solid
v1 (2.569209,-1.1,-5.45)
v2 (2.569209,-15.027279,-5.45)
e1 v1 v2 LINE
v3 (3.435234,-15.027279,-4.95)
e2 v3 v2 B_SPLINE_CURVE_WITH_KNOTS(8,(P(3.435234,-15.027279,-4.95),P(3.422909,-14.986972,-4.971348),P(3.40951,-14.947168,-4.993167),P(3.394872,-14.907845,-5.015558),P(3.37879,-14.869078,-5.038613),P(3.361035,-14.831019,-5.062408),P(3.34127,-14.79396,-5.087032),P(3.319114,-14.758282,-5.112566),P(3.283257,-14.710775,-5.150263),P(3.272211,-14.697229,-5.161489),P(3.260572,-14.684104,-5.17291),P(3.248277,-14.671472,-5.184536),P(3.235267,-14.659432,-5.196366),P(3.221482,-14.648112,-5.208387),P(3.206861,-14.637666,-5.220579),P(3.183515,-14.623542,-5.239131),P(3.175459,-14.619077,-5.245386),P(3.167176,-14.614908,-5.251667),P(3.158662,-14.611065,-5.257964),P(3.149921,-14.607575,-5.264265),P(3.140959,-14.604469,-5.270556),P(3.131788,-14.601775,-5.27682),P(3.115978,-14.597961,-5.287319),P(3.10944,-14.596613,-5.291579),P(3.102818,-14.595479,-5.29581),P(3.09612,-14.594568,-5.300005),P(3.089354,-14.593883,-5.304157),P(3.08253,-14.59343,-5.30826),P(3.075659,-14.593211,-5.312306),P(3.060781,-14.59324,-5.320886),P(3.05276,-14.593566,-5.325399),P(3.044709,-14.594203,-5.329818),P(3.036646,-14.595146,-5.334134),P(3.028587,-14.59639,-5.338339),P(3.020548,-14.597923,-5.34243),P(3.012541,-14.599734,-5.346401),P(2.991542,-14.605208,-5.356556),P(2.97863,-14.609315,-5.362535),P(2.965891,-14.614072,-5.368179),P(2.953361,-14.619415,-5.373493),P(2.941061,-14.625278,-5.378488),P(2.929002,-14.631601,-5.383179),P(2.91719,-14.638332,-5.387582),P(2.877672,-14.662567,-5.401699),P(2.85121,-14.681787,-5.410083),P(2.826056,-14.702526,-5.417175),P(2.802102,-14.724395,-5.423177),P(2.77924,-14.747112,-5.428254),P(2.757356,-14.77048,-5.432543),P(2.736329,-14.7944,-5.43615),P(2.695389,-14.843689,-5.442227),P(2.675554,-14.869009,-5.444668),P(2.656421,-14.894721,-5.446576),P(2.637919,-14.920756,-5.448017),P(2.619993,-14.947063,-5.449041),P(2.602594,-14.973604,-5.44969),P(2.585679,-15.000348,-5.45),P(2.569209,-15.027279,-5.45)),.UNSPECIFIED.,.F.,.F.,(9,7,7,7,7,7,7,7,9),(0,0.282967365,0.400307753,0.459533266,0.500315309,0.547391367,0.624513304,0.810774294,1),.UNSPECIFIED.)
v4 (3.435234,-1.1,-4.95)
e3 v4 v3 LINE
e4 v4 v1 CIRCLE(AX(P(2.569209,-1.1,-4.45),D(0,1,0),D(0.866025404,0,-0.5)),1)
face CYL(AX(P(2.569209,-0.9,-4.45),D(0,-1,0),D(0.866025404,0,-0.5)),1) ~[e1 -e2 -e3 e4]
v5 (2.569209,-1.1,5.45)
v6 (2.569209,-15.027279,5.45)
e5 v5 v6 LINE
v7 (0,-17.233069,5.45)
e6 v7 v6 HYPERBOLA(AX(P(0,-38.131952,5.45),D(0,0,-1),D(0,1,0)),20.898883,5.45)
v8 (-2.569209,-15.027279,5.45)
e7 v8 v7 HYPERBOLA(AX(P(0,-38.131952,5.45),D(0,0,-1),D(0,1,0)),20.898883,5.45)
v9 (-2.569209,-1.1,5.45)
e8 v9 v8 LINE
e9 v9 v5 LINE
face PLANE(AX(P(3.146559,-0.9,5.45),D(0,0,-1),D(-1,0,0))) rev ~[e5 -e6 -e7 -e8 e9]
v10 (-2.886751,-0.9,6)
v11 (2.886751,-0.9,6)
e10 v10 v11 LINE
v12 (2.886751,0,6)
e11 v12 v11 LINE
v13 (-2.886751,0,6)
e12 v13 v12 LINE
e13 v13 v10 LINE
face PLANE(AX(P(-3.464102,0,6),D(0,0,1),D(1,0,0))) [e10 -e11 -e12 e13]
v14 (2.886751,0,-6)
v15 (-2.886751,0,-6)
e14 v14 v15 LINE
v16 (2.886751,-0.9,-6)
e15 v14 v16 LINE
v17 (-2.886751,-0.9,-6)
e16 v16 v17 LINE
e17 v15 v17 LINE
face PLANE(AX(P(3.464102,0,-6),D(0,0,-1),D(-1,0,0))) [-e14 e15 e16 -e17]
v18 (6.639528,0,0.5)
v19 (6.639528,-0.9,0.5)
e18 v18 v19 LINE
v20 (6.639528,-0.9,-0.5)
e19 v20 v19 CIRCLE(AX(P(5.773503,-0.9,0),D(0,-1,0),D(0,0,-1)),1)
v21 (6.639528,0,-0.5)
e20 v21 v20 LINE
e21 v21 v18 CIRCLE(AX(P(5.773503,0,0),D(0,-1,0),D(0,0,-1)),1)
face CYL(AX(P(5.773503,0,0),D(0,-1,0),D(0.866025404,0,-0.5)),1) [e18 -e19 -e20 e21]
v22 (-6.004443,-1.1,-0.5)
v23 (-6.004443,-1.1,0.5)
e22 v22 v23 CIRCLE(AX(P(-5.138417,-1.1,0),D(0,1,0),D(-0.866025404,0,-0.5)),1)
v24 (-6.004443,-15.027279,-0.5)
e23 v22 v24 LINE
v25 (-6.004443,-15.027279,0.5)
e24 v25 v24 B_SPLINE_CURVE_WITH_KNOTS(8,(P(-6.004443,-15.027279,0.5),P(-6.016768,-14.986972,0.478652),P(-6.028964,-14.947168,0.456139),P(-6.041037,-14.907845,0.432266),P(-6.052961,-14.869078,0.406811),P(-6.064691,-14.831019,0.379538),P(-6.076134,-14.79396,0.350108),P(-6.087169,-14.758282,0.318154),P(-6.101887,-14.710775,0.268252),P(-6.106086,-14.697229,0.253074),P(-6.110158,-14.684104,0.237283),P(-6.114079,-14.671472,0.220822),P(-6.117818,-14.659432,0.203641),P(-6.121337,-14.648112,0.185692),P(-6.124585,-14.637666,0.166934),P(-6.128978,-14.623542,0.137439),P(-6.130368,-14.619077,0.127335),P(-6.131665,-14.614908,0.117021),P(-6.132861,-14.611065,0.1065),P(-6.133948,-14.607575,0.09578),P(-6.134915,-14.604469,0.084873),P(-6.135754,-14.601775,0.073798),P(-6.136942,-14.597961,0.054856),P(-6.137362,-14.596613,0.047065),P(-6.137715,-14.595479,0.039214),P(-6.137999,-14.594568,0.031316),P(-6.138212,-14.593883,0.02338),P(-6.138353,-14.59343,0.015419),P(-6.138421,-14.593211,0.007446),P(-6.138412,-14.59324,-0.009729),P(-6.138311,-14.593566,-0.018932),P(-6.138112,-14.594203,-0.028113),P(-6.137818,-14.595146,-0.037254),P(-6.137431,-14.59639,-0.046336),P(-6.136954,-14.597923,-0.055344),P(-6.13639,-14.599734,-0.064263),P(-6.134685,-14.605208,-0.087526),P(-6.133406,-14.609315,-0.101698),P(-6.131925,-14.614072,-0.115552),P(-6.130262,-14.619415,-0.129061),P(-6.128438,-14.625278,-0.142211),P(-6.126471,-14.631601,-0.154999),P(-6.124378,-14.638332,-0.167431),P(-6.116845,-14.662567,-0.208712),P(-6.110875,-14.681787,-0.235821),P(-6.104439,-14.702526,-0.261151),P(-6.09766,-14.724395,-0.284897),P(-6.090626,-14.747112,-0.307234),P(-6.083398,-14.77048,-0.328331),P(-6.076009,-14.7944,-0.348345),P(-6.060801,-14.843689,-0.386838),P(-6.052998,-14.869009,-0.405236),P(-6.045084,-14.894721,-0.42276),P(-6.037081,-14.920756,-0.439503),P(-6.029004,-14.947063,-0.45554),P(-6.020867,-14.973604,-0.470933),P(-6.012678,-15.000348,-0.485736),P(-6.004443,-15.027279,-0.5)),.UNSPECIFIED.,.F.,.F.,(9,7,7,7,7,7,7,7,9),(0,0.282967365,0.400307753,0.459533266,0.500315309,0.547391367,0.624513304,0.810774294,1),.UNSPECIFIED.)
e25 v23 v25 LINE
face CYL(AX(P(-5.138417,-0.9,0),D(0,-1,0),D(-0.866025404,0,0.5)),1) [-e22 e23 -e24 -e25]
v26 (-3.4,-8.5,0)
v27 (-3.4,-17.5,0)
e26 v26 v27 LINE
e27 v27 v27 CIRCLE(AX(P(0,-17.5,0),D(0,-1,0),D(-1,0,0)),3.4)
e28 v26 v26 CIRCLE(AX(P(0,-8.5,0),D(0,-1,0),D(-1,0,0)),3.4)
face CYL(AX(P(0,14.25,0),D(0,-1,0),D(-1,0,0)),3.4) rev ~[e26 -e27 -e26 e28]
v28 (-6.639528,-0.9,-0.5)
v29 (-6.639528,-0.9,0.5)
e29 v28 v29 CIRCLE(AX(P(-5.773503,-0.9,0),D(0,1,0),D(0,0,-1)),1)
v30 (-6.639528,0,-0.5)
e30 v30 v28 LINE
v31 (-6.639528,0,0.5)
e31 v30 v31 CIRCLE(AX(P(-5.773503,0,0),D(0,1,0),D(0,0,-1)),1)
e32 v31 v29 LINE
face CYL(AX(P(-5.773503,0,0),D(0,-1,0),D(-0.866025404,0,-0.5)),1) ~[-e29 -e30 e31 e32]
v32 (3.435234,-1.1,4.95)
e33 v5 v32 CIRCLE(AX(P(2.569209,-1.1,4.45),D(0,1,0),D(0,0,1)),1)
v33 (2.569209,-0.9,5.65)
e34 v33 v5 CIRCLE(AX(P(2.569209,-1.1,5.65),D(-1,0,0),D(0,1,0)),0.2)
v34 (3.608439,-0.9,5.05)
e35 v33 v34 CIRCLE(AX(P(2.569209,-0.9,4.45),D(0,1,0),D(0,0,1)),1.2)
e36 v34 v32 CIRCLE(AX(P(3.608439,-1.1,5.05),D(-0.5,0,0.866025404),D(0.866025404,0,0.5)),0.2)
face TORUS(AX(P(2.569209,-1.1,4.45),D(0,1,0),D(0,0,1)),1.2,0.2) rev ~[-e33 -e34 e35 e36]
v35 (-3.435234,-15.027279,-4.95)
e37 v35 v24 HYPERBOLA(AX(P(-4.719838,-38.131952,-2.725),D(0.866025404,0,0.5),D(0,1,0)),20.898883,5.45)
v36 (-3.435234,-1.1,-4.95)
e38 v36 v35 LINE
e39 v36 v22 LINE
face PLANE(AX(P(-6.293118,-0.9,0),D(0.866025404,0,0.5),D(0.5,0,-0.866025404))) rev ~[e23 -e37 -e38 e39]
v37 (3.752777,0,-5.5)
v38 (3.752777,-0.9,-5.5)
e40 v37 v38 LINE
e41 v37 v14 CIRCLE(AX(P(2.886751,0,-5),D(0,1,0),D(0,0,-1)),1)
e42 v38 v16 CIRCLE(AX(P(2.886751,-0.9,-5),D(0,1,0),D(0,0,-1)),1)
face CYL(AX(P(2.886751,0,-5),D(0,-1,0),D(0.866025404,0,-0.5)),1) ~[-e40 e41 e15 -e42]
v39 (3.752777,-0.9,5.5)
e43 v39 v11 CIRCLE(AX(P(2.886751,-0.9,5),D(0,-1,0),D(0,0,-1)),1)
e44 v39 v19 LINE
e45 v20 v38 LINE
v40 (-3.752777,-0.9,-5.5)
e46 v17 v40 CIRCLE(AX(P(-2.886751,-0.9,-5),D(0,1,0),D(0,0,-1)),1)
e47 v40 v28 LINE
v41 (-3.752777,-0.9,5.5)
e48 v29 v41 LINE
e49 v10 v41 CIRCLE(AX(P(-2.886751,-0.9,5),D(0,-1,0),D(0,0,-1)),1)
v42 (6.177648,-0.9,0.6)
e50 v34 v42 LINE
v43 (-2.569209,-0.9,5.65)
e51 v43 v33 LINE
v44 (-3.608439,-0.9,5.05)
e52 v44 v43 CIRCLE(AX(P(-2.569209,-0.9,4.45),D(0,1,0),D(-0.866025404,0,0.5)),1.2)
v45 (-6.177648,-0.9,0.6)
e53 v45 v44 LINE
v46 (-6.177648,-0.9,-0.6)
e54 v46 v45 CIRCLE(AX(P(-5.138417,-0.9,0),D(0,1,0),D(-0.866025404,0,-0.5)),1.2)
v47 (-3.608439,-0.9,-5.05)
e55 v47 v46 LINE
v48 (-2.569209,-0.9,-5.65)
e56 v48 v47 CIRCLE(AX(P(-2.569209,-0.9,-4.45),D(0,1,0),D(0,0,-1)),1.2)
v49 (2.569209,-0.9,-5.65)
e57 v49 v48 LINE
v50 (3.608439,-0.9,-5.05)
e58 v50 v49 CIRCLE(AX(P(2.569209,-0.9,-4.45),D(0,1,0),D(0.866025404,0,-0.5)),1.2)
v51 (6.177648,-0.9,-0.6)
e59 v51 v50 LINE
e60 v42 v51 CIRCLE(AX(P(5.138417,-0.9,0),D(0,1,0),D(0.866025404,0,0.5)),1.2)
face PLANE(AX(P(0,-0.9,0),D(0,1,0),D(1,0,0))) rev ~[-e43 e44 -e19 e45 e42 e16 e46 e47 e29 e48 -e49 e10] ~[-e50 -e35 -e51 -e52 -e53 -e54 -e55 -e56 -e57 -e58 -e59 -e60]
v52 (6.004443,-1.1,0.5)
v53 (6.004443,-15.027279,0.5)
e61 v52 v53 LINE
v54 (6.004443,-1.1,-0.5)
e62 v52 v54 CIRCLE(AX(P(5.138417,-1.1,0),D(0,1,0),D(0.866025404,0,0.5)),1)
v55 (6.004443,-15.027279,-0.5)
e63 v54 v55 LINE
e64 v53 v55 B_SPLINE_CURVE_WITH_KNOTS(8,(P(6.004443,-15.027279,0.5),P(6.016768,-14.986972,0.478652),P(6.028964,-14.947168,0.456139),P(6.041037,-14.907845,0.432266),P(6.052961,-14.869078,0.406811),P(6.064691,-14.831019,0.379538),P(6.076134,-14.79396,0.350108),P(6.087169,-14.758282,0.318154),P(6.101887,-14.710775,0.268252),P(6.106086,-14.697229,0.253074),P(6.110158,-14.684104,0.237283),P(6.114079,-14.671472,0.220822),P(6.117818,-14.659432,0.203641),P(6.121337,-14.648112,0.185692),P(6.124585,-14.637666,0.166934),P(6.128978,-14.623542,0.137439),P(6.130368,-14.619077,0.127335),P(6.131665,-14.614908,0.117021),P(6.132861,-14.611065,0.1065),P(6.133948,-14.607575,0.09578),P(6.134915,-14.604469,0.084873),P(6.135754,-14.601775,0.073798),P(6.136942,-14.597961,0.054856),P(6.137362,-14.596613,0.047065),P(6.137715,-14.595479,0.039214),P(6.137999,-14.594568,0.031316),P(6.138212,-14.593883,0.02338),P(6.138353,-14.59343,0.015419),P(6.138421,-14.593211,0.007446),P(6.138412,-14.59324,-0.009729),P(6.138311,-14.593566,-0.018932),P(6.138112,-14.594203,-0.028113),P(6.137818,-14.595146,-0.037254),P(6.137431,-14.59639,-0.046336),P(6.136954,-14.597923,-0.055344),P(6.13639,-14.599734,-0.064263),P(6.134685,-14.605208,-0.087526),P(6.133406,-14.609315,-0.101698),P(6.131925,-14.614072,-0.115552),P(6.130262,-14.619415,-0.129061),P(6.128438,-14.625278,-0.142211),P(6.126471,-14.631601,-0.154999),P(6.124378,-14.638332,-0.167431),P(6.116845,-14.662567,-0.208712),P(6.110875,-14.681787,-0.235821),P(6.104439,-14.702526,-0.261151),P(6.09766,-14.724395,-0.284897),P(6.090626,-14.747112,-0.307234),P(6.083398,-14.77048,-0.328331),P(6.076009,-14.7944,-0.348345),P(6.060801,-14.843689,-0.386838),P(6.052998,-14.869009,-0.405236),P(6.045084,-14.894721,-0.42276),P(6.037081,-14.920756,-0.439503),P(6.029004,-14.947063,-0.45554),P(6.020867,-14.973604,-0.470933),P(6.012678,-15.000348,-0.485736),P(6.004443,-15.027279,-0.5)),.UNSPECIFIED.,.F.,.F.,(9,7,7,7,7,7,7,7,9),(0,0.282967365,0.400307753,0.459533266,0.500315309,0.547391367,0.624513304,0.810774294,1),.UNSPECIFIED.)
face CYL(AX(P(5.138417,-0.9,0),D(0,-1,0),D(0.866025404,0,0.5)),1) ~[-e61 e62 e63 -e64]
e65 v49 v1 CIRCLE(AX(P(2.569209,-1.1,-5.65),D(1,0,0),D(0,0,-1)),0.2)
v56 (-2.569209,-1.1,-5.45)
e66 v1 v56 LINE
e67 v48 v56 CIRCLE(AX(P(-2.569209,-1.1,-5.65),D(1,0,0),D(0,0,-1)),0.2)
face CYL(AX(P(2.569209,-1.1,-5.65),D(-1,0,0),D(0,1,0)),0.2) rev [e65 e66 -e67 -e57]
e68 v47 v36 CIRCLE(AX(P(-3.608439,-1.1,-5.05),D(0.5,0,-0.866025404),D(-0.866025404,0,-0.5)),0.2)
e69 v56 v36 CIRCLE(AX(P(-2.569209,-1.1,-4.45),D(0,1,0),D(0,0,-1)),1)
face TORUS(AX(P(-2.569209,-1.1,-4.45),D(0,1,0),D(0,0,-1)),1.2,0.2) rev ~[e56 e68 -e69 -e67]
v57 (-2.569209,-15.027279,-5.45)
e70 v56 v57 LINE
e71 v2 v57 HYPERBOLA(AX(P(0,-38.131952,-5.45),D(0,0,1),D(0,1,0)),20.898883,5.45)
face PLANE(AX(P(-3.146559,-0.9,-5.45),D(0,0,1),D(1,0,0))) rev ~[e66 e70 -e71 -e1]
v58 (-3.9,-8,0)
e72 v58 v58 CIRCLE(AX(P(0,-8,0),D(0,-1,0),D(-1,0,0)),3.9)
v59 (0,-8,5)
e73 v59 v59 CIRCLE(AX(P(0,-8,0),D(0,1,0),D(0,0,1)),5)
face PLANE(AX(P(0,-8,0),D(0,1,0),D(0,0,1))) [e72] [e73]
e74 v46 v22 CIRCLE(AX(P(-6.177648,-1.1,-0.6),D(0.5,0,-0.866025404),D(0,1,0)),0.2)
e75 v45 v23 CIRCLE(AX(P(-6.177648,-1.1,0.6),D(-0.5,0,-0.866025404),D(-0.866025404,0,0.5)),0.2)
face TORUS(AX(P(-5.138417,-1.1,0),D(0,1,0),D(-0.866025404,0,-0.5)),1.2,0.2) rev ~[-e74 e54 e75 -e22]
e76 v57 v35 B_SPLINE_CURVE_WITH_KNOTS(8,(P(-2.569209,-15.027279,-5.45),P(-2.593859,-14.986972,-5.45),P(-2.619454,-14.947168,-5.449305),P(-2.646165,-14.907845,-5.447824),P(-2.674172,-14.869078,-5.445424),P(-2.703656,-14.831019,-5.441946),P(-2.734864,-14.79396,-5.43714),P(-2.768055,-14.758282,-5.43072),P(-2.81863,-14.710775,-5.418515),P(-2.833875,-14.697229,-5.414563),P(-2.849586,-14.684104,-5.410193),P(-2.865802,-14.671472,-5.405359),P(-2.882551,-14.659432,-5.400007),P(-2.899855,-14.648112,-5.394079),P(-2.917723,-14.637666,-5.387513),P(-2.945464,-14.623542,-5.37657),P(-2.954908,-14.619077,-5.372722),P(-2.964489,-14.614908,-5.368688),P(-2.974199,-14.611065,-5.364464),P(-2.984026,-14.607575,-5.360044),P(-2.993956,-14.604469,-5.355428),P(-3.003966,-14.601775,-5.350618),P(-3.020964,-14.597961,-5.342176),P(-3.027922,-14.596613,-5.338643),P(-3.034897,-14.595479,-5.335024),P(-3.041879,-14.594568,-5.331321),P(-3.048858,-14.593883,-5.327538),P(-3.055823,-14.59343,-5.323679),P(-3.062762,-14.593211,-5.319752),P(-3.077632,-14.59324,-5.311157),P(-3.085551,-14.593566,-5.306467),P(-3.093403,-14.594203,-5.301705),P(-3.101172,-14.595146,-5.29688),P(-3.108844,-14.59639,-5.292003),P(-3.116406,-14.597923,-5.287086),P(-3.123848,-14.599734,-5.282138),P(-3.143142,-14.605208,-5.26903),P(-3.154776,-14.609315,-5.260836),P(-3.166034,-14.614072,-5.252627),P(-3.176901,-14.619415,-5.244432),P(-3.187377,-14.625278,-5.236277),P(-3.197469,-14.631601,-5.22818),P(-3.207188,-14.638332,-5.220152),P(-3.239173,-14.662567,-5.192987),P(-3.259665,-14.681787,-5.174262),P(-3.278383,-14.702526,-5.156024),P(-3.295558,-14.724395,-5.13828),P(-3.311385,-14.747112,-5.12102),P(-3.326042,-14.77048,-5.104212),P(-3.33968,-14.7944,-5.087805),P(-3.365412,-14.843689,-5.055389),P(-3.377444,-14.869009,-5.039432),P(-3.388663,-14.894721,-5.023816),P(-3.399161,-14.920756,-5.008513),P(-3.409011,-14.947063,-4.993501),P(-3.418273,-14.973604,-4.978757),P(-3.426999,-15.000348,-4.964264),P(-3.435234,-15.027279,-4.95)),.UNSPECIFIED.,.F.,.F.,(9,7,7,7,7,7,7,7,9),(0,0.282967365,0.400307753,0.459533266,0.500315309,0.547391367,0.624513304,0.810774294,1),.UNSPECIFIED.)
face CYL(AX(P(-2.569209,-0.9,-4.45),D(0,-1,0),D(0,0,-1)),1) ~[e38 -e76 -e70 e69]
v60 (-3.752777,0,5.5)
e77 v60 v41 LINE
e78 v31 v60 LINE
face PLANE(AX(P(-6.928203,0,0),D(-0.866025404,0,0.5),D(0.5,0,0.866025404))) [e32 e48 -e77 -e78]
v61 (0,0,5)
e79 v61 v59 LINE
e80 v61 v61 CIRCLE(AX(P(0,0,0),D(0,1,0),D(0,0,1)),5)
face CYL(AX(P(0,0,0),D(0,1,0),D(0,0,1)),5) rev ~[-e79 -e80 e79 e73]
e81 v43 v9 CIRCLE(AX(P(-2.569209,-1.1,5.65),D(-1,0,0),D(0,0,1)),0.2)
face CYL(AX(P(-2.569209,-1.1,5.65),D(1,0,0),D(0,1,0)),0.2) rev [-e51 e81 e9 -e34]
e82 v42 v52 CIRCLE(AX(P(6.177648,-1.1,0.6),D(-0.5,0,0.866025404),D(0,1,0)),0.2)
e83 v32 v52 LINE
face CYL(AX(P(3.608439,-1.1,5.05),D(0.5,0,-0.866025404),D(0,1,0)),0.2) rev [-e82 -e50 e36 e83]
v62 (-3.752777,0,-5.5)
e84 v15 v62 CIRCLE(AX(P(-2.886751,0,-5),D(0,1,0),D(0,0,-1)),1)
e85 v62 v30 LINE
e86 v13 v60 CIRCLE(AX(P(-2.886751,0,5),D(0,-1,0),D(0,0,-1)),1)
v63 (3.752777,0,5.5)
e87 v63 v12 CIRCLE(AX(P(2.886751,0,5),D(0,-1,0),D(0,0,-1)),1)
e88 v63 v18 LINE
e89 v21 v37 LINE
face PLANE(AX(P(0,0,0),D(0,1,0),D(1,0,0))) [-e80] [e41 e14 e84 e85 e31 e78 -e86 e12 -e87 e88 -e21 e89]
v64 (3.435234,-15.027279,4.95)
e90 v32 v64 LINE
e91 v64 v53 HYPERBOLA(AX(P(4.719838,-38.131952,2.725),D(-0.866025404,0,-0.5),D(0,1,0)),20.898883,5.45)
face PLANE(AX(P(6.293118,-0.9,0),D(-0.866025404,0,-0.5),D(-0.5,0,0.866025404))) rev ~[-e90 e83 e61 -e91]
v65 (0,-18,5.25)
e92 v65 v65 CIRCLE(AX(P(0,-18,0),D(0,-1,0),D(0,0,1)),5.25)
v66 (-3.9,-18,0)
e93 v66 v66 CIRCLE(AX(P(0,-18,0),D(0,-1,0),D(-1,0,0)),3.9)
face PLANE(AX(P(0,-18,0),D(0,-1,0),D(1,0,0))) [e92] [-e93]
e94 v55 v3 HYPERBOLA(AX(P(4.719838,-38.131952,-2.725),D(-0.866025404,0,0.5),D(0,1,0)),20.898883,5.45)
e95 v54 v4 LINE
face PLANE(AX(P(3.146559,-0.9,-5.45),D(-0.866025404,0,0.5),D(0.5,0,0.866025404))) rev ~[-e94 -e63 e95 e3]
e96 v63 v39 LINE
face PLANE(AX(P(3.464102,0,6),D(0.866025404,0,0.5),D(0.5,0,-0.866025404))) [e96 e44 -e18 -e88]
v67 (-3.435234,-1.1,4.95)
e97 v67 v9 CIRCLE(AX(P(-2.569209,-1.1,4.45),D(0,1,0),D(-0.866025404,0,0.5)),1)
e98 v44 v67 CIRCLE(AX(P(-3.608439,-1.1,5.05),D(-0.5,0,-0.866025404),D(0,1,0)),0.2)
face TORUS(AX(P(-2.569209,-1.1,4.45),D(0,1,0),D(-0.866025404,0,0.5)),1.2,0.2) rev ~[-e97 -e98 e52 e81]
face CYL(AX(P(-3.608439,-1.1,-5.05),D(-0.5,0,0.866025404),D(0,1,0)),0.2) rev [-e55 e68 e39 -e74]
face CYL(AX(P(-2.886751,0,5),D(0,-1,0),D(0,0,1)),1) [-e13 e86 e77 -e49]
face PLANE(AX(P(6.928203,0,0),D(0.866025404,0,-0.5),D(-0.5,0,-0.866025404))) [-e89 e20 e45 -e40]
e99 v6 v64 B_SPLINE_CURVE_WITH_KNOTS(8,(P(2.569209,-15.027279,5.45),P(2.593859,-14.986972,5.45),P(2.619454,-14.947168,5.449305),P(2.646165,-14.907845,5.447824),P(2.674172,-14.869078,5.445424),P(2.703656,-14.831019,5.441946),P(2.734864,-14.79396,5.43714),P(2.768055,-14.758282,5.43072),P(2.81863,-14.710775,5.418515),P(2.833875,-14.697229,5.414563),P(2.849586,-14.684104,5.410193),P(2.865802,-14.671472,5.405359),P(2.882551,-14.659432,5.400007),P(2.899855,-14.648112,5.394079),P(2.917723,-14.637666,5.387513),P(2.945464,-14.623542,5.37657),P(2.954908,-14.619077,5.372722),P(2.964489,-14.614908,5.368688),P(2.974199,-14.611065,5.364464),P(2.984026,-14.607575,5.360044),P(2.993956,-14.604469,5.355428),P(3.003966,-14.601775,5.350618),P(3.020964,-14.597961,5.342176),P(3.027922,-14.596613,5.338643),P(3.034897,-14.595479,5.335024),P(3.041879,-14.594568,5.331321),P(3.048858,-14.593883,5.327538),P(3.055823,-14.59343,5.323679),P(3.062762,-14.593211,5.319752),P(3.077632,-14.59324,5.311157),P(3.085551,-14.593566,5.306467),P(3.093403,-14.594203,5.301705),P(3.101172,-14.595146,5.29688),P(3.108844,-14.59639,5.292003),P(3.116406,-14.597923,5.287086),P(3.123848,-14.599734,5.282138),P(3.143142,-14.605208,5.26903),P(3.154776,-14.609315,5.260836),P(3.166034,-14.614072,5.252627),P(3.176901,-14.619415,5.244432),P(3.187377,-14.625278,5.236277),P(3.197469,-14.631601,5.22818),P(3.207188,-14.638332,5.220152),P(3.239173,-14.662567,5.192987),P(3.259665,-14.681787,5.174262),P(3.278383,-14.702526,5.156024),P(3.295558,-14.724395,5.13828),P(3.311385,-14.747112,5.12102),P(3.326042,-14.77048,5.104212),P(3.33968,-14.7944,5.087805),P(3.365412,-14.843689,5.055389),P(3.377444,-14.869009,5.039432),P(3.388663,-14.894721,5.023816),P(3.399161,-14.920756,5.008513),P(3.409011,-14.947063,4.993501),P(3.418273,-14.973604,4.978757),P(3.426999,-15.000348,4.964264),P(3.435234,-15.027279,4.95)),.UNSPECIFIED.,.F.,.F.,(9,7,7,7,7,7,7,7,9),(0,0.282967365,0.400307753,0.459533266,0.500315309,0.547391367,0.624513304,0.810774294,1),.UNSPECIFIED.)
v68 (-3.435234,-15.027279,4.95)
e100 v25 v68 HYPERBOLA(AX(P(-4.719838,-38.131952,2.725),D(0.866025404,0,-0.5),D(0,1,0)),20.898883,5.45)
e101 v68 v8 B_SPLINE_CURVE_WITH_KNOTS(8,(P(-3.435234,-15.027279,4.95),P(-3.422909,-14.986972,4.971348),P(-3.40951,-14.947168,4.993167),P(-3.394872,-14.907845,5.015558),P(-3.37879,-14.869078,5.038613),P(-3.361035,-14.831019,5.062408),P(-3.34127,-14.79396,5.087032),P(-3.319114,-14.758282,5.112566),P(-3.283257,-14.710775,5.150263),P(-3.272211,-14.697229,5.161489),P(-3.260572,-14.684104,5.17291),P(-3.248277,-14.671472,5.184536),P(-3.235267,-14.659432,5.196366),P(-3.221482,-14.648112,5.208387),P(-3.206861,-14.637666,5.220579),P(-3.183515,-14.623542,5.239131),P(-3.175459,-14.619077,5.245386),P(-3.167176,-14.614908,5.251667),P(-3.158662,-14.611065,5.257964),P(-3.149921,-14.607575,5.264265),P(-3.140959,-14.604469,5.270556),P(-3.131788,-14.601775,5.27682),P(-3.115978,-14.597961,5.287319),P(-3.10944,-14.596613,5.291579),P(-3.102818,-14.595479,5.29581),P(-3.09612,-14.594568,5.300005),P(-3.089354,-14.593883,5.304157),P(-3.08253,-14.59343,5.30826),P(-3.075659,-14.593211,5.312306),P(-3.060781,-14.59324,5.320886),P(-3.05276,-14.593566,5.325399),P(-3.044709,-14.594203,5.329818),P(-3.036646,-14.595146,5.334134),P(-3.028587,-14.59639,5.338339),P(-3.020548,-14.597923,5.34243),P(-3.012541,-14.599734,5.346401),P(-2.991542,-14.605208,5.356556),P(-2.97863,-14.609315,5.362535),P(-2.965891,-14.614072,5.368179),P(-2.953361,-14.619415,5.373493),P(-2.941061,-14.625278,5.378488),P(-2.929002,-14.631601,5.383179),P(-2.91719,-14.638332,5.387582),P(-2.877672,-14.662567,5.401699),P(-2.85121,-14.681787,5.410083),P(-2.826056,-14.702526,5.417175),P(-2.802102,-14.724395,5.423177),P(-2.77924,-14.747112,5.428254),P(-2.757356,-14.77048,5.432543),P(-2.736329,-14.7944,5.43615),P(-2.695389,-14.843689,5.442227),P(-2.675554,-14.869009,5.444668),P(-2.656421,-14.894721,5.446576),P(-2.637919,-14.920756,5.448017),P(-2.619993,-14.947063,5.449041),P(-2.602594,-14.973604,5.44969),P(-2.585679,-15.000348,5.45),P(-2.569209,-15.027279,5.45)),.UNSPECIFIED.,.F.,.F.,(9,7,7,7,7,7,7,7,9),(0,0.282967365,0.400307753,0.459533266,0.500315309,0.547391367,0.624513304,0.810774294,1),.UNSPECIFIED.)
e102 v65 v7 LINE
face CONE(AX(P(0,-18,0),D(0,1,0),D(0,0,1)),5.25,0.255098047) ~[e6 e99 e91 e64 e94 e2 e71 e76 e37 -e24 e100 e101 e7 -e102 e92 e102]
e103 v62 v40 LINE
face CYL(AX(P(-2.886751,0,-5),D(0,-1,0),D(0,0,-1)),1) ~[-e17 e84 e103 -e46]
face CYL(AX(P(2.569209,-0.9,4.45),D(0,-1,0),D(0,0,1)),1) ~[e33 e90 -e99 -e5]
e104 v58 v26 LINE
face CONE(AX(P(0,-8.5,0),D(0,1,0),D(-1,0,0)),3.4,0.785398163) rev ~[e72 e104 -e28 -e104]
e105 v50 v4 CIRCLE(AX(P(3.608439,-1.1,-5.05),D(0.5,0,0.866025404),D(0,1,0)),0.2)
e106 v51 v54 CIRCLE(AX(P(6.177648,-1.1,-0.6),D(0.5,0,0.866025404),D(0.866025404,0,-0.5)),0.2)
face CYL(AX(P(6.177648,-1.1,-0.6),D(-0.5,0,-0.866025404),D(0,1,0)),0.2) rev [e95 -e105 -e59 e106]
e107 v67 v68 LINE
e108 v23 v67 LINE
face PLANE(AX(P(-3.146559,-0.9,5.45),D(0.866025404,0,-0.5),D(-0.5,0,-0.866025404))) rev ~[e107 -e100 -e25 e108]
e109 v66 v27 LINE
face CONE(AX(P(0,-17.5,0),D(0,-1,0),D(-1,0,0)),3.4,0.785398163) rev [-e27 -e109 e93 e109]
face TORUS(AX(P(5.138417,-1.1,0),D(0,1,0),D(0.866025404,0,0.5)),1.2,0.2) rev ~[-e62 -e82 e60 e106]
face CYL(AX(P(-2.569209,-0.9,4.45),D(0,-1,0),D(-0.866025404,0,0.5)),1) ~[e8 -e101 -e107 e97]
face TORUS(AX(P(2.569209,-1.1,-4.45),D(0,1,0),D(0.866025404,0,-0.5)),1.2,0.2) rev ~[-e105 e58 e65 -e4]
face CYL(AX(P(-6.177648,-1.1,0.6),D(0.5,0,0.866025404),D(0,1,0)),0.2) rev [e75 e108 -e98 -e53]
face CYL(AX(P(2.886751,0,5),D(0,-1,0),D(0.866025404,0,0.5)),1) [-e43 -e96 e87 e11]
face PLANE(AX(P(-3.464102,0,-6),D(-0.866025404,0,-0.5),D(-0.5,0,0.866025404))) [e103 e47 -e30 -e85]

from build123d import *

# Parameters (mm, degrees)
BOSS_EXTRUDE1_DEPTH   = 0.9
BOSS_EXTRUDE2_DEPTH   = 17.1
FILLET2_R             = 1
FILLET3_R             = 0.2
SKETCH4_R             = 5
CUT_EXTRUDE1_DEPTH    = 8
M8_TAPPED_HOLE1_D     = 6.8
M8_TAPPED_HOLE1_DEPTH = 22.25
M8_TAPPED_HOLE1_TIP   = 2.042926105
CHAMFER1_SIZE         = 0.5


with BuildPart() as part:
    # Sketch1 → Boss-Extrude1 (new body)
    with BuildSketch(Plane(origin=(0, 0, 0), x_dir=(1, 0, 0), z_dir=(0, 1, 0))):
        Polygon((6.92820323, 0), (3.464101615, 6), (-3.464101615, 6), (-6.92820323, 0), (-3.464101615, -6), (3.464101615, -6), align=None)
    extrude(amount=-BOSS_EXTRUDE1_DEPTH)

    # Sketch2 → Boss-Extrude2 (add)
    with BuildSketch(Plane.XZ.offset(0.9)):
        Polygon((-6.293117934, 0), (-3.146558967, -5.45), (3.146558967, -5.45), (6.293117934, 0), (3.146558967, 5.45), (-3.146558967, 5.45), align=None)
    extrude(amount=BOSS_EXTRUDE2_DEPTH)

    # Sketch3 → Cut-Revolve1 (revolve, cut)
    with BuildSketch(Plane.XY, mode=Mode.PRIVATE) as cut_revolve1_sk:
        Polygon((-6.293117934, -18), (-5.25, -18), (-6.293117934, -14), align=None)
    revolve(cut_revolve1_sk.sketch.rotate(Axis((0, 0, 0), (0, -1, 0)), 270), axis=Axis((0, 0, 0), (0, -1, 0)), mode=Mode.SUBTRACT)

    # Fillet2
    fillet2_edges = [part.edges().sort_by_distance(p)[0] for p in [
        (-6.92820323, -0.45, 0),
        (-6.293117934, -7.45, 0),
        (-3.146558967, -7.45, -5.45),
        (-3.464101615, -0.45, -6),
        (3.146558967, -7.45, -5.45),
        (3.464101615, -0.45, -6),
        (6.293117934, -7.45, 0),
        (6.92820323, -0.45, 0),
        (3.146558967, -7.45, 5.45),
        (3.464101615, -0.45, 6),
        (-3.146558967, -7.45, 5.45),
        (-3.464101615, -0.45, 6),
    ]]
    fillet(fillet2_edges, radius=FILLET2_R)

    # Fillet3
    fillet3_edges = [part.edges().sort_by_distance(p)[0] for p in [
        (-3.069208698, -0.9, -5.316025404),
        (3.069208698, -0.9, -5.316025404),
        (6.138417396, -0.9, 0),
        (3.069208698, -0.9, 5.316025404),
        (-3.069208698, -0.9, 5.316025404),
        (-6.138417396, -0.9, 0),
        (0, -0.9, -5.45),
        (-4.719838451, -0.9, -2.725),
        (-4.719838451, -0.9, 2.725),
        (0, -0.9, 5.45),
        (4.719838451, -0.9, 2.725),
        (4.719838451, -0.9, -2.725),
    ]]
    fillet(fillet3_edges, radius=FILLET3_R)

    # Sketch4 → Cut-Extrude1 (cut)
    with BuildSketch(Plane(origin=(0, 0, 0), x_dir=(1, 0, 0), z_dir=(0, 1, 0))):
        with Locations(Location((0, 0, 0), (0, 0, 270))):
            Circle(SKETCH4_R)
    extrude(amount=-CUT_EXTRUDE1_DEPTH, mode=Mode.SUBTRACT)

    # M8 Tapped Hole1
    with Locations(Plane(origin=(0, -8, 0), x_dir=(1, 0, 0), z_dir=(0, 1, 0))):
        with Locations((0, 0)):
            Hole(M8_TAPPED_HOLE1_D / 2, depth=M8_TAPPED_HOLE1_DEPTH)
            with Locations((0, 0, -(M8_TAPPED_HOLE1_DEPTH + M8_TAPPED_HOLE1_TIP / 2))):  # 118° drill point
                Cone(0, M8_TAPPED_HOLE1_D / 2, M8_TAPPED_HOLE1_TIP, mode=Mode.SUBTRACT)

    # Chamfer1
    chamfer1_edges = [part.edges().sort_by_distance(p)[0] for p in [
        (3.4, -18, 0),
        (3.4, -8, 0),
    ]]
    chamfer(chamfer1_edges, length=CHAMFER1_SIZE)


solid = part.part
